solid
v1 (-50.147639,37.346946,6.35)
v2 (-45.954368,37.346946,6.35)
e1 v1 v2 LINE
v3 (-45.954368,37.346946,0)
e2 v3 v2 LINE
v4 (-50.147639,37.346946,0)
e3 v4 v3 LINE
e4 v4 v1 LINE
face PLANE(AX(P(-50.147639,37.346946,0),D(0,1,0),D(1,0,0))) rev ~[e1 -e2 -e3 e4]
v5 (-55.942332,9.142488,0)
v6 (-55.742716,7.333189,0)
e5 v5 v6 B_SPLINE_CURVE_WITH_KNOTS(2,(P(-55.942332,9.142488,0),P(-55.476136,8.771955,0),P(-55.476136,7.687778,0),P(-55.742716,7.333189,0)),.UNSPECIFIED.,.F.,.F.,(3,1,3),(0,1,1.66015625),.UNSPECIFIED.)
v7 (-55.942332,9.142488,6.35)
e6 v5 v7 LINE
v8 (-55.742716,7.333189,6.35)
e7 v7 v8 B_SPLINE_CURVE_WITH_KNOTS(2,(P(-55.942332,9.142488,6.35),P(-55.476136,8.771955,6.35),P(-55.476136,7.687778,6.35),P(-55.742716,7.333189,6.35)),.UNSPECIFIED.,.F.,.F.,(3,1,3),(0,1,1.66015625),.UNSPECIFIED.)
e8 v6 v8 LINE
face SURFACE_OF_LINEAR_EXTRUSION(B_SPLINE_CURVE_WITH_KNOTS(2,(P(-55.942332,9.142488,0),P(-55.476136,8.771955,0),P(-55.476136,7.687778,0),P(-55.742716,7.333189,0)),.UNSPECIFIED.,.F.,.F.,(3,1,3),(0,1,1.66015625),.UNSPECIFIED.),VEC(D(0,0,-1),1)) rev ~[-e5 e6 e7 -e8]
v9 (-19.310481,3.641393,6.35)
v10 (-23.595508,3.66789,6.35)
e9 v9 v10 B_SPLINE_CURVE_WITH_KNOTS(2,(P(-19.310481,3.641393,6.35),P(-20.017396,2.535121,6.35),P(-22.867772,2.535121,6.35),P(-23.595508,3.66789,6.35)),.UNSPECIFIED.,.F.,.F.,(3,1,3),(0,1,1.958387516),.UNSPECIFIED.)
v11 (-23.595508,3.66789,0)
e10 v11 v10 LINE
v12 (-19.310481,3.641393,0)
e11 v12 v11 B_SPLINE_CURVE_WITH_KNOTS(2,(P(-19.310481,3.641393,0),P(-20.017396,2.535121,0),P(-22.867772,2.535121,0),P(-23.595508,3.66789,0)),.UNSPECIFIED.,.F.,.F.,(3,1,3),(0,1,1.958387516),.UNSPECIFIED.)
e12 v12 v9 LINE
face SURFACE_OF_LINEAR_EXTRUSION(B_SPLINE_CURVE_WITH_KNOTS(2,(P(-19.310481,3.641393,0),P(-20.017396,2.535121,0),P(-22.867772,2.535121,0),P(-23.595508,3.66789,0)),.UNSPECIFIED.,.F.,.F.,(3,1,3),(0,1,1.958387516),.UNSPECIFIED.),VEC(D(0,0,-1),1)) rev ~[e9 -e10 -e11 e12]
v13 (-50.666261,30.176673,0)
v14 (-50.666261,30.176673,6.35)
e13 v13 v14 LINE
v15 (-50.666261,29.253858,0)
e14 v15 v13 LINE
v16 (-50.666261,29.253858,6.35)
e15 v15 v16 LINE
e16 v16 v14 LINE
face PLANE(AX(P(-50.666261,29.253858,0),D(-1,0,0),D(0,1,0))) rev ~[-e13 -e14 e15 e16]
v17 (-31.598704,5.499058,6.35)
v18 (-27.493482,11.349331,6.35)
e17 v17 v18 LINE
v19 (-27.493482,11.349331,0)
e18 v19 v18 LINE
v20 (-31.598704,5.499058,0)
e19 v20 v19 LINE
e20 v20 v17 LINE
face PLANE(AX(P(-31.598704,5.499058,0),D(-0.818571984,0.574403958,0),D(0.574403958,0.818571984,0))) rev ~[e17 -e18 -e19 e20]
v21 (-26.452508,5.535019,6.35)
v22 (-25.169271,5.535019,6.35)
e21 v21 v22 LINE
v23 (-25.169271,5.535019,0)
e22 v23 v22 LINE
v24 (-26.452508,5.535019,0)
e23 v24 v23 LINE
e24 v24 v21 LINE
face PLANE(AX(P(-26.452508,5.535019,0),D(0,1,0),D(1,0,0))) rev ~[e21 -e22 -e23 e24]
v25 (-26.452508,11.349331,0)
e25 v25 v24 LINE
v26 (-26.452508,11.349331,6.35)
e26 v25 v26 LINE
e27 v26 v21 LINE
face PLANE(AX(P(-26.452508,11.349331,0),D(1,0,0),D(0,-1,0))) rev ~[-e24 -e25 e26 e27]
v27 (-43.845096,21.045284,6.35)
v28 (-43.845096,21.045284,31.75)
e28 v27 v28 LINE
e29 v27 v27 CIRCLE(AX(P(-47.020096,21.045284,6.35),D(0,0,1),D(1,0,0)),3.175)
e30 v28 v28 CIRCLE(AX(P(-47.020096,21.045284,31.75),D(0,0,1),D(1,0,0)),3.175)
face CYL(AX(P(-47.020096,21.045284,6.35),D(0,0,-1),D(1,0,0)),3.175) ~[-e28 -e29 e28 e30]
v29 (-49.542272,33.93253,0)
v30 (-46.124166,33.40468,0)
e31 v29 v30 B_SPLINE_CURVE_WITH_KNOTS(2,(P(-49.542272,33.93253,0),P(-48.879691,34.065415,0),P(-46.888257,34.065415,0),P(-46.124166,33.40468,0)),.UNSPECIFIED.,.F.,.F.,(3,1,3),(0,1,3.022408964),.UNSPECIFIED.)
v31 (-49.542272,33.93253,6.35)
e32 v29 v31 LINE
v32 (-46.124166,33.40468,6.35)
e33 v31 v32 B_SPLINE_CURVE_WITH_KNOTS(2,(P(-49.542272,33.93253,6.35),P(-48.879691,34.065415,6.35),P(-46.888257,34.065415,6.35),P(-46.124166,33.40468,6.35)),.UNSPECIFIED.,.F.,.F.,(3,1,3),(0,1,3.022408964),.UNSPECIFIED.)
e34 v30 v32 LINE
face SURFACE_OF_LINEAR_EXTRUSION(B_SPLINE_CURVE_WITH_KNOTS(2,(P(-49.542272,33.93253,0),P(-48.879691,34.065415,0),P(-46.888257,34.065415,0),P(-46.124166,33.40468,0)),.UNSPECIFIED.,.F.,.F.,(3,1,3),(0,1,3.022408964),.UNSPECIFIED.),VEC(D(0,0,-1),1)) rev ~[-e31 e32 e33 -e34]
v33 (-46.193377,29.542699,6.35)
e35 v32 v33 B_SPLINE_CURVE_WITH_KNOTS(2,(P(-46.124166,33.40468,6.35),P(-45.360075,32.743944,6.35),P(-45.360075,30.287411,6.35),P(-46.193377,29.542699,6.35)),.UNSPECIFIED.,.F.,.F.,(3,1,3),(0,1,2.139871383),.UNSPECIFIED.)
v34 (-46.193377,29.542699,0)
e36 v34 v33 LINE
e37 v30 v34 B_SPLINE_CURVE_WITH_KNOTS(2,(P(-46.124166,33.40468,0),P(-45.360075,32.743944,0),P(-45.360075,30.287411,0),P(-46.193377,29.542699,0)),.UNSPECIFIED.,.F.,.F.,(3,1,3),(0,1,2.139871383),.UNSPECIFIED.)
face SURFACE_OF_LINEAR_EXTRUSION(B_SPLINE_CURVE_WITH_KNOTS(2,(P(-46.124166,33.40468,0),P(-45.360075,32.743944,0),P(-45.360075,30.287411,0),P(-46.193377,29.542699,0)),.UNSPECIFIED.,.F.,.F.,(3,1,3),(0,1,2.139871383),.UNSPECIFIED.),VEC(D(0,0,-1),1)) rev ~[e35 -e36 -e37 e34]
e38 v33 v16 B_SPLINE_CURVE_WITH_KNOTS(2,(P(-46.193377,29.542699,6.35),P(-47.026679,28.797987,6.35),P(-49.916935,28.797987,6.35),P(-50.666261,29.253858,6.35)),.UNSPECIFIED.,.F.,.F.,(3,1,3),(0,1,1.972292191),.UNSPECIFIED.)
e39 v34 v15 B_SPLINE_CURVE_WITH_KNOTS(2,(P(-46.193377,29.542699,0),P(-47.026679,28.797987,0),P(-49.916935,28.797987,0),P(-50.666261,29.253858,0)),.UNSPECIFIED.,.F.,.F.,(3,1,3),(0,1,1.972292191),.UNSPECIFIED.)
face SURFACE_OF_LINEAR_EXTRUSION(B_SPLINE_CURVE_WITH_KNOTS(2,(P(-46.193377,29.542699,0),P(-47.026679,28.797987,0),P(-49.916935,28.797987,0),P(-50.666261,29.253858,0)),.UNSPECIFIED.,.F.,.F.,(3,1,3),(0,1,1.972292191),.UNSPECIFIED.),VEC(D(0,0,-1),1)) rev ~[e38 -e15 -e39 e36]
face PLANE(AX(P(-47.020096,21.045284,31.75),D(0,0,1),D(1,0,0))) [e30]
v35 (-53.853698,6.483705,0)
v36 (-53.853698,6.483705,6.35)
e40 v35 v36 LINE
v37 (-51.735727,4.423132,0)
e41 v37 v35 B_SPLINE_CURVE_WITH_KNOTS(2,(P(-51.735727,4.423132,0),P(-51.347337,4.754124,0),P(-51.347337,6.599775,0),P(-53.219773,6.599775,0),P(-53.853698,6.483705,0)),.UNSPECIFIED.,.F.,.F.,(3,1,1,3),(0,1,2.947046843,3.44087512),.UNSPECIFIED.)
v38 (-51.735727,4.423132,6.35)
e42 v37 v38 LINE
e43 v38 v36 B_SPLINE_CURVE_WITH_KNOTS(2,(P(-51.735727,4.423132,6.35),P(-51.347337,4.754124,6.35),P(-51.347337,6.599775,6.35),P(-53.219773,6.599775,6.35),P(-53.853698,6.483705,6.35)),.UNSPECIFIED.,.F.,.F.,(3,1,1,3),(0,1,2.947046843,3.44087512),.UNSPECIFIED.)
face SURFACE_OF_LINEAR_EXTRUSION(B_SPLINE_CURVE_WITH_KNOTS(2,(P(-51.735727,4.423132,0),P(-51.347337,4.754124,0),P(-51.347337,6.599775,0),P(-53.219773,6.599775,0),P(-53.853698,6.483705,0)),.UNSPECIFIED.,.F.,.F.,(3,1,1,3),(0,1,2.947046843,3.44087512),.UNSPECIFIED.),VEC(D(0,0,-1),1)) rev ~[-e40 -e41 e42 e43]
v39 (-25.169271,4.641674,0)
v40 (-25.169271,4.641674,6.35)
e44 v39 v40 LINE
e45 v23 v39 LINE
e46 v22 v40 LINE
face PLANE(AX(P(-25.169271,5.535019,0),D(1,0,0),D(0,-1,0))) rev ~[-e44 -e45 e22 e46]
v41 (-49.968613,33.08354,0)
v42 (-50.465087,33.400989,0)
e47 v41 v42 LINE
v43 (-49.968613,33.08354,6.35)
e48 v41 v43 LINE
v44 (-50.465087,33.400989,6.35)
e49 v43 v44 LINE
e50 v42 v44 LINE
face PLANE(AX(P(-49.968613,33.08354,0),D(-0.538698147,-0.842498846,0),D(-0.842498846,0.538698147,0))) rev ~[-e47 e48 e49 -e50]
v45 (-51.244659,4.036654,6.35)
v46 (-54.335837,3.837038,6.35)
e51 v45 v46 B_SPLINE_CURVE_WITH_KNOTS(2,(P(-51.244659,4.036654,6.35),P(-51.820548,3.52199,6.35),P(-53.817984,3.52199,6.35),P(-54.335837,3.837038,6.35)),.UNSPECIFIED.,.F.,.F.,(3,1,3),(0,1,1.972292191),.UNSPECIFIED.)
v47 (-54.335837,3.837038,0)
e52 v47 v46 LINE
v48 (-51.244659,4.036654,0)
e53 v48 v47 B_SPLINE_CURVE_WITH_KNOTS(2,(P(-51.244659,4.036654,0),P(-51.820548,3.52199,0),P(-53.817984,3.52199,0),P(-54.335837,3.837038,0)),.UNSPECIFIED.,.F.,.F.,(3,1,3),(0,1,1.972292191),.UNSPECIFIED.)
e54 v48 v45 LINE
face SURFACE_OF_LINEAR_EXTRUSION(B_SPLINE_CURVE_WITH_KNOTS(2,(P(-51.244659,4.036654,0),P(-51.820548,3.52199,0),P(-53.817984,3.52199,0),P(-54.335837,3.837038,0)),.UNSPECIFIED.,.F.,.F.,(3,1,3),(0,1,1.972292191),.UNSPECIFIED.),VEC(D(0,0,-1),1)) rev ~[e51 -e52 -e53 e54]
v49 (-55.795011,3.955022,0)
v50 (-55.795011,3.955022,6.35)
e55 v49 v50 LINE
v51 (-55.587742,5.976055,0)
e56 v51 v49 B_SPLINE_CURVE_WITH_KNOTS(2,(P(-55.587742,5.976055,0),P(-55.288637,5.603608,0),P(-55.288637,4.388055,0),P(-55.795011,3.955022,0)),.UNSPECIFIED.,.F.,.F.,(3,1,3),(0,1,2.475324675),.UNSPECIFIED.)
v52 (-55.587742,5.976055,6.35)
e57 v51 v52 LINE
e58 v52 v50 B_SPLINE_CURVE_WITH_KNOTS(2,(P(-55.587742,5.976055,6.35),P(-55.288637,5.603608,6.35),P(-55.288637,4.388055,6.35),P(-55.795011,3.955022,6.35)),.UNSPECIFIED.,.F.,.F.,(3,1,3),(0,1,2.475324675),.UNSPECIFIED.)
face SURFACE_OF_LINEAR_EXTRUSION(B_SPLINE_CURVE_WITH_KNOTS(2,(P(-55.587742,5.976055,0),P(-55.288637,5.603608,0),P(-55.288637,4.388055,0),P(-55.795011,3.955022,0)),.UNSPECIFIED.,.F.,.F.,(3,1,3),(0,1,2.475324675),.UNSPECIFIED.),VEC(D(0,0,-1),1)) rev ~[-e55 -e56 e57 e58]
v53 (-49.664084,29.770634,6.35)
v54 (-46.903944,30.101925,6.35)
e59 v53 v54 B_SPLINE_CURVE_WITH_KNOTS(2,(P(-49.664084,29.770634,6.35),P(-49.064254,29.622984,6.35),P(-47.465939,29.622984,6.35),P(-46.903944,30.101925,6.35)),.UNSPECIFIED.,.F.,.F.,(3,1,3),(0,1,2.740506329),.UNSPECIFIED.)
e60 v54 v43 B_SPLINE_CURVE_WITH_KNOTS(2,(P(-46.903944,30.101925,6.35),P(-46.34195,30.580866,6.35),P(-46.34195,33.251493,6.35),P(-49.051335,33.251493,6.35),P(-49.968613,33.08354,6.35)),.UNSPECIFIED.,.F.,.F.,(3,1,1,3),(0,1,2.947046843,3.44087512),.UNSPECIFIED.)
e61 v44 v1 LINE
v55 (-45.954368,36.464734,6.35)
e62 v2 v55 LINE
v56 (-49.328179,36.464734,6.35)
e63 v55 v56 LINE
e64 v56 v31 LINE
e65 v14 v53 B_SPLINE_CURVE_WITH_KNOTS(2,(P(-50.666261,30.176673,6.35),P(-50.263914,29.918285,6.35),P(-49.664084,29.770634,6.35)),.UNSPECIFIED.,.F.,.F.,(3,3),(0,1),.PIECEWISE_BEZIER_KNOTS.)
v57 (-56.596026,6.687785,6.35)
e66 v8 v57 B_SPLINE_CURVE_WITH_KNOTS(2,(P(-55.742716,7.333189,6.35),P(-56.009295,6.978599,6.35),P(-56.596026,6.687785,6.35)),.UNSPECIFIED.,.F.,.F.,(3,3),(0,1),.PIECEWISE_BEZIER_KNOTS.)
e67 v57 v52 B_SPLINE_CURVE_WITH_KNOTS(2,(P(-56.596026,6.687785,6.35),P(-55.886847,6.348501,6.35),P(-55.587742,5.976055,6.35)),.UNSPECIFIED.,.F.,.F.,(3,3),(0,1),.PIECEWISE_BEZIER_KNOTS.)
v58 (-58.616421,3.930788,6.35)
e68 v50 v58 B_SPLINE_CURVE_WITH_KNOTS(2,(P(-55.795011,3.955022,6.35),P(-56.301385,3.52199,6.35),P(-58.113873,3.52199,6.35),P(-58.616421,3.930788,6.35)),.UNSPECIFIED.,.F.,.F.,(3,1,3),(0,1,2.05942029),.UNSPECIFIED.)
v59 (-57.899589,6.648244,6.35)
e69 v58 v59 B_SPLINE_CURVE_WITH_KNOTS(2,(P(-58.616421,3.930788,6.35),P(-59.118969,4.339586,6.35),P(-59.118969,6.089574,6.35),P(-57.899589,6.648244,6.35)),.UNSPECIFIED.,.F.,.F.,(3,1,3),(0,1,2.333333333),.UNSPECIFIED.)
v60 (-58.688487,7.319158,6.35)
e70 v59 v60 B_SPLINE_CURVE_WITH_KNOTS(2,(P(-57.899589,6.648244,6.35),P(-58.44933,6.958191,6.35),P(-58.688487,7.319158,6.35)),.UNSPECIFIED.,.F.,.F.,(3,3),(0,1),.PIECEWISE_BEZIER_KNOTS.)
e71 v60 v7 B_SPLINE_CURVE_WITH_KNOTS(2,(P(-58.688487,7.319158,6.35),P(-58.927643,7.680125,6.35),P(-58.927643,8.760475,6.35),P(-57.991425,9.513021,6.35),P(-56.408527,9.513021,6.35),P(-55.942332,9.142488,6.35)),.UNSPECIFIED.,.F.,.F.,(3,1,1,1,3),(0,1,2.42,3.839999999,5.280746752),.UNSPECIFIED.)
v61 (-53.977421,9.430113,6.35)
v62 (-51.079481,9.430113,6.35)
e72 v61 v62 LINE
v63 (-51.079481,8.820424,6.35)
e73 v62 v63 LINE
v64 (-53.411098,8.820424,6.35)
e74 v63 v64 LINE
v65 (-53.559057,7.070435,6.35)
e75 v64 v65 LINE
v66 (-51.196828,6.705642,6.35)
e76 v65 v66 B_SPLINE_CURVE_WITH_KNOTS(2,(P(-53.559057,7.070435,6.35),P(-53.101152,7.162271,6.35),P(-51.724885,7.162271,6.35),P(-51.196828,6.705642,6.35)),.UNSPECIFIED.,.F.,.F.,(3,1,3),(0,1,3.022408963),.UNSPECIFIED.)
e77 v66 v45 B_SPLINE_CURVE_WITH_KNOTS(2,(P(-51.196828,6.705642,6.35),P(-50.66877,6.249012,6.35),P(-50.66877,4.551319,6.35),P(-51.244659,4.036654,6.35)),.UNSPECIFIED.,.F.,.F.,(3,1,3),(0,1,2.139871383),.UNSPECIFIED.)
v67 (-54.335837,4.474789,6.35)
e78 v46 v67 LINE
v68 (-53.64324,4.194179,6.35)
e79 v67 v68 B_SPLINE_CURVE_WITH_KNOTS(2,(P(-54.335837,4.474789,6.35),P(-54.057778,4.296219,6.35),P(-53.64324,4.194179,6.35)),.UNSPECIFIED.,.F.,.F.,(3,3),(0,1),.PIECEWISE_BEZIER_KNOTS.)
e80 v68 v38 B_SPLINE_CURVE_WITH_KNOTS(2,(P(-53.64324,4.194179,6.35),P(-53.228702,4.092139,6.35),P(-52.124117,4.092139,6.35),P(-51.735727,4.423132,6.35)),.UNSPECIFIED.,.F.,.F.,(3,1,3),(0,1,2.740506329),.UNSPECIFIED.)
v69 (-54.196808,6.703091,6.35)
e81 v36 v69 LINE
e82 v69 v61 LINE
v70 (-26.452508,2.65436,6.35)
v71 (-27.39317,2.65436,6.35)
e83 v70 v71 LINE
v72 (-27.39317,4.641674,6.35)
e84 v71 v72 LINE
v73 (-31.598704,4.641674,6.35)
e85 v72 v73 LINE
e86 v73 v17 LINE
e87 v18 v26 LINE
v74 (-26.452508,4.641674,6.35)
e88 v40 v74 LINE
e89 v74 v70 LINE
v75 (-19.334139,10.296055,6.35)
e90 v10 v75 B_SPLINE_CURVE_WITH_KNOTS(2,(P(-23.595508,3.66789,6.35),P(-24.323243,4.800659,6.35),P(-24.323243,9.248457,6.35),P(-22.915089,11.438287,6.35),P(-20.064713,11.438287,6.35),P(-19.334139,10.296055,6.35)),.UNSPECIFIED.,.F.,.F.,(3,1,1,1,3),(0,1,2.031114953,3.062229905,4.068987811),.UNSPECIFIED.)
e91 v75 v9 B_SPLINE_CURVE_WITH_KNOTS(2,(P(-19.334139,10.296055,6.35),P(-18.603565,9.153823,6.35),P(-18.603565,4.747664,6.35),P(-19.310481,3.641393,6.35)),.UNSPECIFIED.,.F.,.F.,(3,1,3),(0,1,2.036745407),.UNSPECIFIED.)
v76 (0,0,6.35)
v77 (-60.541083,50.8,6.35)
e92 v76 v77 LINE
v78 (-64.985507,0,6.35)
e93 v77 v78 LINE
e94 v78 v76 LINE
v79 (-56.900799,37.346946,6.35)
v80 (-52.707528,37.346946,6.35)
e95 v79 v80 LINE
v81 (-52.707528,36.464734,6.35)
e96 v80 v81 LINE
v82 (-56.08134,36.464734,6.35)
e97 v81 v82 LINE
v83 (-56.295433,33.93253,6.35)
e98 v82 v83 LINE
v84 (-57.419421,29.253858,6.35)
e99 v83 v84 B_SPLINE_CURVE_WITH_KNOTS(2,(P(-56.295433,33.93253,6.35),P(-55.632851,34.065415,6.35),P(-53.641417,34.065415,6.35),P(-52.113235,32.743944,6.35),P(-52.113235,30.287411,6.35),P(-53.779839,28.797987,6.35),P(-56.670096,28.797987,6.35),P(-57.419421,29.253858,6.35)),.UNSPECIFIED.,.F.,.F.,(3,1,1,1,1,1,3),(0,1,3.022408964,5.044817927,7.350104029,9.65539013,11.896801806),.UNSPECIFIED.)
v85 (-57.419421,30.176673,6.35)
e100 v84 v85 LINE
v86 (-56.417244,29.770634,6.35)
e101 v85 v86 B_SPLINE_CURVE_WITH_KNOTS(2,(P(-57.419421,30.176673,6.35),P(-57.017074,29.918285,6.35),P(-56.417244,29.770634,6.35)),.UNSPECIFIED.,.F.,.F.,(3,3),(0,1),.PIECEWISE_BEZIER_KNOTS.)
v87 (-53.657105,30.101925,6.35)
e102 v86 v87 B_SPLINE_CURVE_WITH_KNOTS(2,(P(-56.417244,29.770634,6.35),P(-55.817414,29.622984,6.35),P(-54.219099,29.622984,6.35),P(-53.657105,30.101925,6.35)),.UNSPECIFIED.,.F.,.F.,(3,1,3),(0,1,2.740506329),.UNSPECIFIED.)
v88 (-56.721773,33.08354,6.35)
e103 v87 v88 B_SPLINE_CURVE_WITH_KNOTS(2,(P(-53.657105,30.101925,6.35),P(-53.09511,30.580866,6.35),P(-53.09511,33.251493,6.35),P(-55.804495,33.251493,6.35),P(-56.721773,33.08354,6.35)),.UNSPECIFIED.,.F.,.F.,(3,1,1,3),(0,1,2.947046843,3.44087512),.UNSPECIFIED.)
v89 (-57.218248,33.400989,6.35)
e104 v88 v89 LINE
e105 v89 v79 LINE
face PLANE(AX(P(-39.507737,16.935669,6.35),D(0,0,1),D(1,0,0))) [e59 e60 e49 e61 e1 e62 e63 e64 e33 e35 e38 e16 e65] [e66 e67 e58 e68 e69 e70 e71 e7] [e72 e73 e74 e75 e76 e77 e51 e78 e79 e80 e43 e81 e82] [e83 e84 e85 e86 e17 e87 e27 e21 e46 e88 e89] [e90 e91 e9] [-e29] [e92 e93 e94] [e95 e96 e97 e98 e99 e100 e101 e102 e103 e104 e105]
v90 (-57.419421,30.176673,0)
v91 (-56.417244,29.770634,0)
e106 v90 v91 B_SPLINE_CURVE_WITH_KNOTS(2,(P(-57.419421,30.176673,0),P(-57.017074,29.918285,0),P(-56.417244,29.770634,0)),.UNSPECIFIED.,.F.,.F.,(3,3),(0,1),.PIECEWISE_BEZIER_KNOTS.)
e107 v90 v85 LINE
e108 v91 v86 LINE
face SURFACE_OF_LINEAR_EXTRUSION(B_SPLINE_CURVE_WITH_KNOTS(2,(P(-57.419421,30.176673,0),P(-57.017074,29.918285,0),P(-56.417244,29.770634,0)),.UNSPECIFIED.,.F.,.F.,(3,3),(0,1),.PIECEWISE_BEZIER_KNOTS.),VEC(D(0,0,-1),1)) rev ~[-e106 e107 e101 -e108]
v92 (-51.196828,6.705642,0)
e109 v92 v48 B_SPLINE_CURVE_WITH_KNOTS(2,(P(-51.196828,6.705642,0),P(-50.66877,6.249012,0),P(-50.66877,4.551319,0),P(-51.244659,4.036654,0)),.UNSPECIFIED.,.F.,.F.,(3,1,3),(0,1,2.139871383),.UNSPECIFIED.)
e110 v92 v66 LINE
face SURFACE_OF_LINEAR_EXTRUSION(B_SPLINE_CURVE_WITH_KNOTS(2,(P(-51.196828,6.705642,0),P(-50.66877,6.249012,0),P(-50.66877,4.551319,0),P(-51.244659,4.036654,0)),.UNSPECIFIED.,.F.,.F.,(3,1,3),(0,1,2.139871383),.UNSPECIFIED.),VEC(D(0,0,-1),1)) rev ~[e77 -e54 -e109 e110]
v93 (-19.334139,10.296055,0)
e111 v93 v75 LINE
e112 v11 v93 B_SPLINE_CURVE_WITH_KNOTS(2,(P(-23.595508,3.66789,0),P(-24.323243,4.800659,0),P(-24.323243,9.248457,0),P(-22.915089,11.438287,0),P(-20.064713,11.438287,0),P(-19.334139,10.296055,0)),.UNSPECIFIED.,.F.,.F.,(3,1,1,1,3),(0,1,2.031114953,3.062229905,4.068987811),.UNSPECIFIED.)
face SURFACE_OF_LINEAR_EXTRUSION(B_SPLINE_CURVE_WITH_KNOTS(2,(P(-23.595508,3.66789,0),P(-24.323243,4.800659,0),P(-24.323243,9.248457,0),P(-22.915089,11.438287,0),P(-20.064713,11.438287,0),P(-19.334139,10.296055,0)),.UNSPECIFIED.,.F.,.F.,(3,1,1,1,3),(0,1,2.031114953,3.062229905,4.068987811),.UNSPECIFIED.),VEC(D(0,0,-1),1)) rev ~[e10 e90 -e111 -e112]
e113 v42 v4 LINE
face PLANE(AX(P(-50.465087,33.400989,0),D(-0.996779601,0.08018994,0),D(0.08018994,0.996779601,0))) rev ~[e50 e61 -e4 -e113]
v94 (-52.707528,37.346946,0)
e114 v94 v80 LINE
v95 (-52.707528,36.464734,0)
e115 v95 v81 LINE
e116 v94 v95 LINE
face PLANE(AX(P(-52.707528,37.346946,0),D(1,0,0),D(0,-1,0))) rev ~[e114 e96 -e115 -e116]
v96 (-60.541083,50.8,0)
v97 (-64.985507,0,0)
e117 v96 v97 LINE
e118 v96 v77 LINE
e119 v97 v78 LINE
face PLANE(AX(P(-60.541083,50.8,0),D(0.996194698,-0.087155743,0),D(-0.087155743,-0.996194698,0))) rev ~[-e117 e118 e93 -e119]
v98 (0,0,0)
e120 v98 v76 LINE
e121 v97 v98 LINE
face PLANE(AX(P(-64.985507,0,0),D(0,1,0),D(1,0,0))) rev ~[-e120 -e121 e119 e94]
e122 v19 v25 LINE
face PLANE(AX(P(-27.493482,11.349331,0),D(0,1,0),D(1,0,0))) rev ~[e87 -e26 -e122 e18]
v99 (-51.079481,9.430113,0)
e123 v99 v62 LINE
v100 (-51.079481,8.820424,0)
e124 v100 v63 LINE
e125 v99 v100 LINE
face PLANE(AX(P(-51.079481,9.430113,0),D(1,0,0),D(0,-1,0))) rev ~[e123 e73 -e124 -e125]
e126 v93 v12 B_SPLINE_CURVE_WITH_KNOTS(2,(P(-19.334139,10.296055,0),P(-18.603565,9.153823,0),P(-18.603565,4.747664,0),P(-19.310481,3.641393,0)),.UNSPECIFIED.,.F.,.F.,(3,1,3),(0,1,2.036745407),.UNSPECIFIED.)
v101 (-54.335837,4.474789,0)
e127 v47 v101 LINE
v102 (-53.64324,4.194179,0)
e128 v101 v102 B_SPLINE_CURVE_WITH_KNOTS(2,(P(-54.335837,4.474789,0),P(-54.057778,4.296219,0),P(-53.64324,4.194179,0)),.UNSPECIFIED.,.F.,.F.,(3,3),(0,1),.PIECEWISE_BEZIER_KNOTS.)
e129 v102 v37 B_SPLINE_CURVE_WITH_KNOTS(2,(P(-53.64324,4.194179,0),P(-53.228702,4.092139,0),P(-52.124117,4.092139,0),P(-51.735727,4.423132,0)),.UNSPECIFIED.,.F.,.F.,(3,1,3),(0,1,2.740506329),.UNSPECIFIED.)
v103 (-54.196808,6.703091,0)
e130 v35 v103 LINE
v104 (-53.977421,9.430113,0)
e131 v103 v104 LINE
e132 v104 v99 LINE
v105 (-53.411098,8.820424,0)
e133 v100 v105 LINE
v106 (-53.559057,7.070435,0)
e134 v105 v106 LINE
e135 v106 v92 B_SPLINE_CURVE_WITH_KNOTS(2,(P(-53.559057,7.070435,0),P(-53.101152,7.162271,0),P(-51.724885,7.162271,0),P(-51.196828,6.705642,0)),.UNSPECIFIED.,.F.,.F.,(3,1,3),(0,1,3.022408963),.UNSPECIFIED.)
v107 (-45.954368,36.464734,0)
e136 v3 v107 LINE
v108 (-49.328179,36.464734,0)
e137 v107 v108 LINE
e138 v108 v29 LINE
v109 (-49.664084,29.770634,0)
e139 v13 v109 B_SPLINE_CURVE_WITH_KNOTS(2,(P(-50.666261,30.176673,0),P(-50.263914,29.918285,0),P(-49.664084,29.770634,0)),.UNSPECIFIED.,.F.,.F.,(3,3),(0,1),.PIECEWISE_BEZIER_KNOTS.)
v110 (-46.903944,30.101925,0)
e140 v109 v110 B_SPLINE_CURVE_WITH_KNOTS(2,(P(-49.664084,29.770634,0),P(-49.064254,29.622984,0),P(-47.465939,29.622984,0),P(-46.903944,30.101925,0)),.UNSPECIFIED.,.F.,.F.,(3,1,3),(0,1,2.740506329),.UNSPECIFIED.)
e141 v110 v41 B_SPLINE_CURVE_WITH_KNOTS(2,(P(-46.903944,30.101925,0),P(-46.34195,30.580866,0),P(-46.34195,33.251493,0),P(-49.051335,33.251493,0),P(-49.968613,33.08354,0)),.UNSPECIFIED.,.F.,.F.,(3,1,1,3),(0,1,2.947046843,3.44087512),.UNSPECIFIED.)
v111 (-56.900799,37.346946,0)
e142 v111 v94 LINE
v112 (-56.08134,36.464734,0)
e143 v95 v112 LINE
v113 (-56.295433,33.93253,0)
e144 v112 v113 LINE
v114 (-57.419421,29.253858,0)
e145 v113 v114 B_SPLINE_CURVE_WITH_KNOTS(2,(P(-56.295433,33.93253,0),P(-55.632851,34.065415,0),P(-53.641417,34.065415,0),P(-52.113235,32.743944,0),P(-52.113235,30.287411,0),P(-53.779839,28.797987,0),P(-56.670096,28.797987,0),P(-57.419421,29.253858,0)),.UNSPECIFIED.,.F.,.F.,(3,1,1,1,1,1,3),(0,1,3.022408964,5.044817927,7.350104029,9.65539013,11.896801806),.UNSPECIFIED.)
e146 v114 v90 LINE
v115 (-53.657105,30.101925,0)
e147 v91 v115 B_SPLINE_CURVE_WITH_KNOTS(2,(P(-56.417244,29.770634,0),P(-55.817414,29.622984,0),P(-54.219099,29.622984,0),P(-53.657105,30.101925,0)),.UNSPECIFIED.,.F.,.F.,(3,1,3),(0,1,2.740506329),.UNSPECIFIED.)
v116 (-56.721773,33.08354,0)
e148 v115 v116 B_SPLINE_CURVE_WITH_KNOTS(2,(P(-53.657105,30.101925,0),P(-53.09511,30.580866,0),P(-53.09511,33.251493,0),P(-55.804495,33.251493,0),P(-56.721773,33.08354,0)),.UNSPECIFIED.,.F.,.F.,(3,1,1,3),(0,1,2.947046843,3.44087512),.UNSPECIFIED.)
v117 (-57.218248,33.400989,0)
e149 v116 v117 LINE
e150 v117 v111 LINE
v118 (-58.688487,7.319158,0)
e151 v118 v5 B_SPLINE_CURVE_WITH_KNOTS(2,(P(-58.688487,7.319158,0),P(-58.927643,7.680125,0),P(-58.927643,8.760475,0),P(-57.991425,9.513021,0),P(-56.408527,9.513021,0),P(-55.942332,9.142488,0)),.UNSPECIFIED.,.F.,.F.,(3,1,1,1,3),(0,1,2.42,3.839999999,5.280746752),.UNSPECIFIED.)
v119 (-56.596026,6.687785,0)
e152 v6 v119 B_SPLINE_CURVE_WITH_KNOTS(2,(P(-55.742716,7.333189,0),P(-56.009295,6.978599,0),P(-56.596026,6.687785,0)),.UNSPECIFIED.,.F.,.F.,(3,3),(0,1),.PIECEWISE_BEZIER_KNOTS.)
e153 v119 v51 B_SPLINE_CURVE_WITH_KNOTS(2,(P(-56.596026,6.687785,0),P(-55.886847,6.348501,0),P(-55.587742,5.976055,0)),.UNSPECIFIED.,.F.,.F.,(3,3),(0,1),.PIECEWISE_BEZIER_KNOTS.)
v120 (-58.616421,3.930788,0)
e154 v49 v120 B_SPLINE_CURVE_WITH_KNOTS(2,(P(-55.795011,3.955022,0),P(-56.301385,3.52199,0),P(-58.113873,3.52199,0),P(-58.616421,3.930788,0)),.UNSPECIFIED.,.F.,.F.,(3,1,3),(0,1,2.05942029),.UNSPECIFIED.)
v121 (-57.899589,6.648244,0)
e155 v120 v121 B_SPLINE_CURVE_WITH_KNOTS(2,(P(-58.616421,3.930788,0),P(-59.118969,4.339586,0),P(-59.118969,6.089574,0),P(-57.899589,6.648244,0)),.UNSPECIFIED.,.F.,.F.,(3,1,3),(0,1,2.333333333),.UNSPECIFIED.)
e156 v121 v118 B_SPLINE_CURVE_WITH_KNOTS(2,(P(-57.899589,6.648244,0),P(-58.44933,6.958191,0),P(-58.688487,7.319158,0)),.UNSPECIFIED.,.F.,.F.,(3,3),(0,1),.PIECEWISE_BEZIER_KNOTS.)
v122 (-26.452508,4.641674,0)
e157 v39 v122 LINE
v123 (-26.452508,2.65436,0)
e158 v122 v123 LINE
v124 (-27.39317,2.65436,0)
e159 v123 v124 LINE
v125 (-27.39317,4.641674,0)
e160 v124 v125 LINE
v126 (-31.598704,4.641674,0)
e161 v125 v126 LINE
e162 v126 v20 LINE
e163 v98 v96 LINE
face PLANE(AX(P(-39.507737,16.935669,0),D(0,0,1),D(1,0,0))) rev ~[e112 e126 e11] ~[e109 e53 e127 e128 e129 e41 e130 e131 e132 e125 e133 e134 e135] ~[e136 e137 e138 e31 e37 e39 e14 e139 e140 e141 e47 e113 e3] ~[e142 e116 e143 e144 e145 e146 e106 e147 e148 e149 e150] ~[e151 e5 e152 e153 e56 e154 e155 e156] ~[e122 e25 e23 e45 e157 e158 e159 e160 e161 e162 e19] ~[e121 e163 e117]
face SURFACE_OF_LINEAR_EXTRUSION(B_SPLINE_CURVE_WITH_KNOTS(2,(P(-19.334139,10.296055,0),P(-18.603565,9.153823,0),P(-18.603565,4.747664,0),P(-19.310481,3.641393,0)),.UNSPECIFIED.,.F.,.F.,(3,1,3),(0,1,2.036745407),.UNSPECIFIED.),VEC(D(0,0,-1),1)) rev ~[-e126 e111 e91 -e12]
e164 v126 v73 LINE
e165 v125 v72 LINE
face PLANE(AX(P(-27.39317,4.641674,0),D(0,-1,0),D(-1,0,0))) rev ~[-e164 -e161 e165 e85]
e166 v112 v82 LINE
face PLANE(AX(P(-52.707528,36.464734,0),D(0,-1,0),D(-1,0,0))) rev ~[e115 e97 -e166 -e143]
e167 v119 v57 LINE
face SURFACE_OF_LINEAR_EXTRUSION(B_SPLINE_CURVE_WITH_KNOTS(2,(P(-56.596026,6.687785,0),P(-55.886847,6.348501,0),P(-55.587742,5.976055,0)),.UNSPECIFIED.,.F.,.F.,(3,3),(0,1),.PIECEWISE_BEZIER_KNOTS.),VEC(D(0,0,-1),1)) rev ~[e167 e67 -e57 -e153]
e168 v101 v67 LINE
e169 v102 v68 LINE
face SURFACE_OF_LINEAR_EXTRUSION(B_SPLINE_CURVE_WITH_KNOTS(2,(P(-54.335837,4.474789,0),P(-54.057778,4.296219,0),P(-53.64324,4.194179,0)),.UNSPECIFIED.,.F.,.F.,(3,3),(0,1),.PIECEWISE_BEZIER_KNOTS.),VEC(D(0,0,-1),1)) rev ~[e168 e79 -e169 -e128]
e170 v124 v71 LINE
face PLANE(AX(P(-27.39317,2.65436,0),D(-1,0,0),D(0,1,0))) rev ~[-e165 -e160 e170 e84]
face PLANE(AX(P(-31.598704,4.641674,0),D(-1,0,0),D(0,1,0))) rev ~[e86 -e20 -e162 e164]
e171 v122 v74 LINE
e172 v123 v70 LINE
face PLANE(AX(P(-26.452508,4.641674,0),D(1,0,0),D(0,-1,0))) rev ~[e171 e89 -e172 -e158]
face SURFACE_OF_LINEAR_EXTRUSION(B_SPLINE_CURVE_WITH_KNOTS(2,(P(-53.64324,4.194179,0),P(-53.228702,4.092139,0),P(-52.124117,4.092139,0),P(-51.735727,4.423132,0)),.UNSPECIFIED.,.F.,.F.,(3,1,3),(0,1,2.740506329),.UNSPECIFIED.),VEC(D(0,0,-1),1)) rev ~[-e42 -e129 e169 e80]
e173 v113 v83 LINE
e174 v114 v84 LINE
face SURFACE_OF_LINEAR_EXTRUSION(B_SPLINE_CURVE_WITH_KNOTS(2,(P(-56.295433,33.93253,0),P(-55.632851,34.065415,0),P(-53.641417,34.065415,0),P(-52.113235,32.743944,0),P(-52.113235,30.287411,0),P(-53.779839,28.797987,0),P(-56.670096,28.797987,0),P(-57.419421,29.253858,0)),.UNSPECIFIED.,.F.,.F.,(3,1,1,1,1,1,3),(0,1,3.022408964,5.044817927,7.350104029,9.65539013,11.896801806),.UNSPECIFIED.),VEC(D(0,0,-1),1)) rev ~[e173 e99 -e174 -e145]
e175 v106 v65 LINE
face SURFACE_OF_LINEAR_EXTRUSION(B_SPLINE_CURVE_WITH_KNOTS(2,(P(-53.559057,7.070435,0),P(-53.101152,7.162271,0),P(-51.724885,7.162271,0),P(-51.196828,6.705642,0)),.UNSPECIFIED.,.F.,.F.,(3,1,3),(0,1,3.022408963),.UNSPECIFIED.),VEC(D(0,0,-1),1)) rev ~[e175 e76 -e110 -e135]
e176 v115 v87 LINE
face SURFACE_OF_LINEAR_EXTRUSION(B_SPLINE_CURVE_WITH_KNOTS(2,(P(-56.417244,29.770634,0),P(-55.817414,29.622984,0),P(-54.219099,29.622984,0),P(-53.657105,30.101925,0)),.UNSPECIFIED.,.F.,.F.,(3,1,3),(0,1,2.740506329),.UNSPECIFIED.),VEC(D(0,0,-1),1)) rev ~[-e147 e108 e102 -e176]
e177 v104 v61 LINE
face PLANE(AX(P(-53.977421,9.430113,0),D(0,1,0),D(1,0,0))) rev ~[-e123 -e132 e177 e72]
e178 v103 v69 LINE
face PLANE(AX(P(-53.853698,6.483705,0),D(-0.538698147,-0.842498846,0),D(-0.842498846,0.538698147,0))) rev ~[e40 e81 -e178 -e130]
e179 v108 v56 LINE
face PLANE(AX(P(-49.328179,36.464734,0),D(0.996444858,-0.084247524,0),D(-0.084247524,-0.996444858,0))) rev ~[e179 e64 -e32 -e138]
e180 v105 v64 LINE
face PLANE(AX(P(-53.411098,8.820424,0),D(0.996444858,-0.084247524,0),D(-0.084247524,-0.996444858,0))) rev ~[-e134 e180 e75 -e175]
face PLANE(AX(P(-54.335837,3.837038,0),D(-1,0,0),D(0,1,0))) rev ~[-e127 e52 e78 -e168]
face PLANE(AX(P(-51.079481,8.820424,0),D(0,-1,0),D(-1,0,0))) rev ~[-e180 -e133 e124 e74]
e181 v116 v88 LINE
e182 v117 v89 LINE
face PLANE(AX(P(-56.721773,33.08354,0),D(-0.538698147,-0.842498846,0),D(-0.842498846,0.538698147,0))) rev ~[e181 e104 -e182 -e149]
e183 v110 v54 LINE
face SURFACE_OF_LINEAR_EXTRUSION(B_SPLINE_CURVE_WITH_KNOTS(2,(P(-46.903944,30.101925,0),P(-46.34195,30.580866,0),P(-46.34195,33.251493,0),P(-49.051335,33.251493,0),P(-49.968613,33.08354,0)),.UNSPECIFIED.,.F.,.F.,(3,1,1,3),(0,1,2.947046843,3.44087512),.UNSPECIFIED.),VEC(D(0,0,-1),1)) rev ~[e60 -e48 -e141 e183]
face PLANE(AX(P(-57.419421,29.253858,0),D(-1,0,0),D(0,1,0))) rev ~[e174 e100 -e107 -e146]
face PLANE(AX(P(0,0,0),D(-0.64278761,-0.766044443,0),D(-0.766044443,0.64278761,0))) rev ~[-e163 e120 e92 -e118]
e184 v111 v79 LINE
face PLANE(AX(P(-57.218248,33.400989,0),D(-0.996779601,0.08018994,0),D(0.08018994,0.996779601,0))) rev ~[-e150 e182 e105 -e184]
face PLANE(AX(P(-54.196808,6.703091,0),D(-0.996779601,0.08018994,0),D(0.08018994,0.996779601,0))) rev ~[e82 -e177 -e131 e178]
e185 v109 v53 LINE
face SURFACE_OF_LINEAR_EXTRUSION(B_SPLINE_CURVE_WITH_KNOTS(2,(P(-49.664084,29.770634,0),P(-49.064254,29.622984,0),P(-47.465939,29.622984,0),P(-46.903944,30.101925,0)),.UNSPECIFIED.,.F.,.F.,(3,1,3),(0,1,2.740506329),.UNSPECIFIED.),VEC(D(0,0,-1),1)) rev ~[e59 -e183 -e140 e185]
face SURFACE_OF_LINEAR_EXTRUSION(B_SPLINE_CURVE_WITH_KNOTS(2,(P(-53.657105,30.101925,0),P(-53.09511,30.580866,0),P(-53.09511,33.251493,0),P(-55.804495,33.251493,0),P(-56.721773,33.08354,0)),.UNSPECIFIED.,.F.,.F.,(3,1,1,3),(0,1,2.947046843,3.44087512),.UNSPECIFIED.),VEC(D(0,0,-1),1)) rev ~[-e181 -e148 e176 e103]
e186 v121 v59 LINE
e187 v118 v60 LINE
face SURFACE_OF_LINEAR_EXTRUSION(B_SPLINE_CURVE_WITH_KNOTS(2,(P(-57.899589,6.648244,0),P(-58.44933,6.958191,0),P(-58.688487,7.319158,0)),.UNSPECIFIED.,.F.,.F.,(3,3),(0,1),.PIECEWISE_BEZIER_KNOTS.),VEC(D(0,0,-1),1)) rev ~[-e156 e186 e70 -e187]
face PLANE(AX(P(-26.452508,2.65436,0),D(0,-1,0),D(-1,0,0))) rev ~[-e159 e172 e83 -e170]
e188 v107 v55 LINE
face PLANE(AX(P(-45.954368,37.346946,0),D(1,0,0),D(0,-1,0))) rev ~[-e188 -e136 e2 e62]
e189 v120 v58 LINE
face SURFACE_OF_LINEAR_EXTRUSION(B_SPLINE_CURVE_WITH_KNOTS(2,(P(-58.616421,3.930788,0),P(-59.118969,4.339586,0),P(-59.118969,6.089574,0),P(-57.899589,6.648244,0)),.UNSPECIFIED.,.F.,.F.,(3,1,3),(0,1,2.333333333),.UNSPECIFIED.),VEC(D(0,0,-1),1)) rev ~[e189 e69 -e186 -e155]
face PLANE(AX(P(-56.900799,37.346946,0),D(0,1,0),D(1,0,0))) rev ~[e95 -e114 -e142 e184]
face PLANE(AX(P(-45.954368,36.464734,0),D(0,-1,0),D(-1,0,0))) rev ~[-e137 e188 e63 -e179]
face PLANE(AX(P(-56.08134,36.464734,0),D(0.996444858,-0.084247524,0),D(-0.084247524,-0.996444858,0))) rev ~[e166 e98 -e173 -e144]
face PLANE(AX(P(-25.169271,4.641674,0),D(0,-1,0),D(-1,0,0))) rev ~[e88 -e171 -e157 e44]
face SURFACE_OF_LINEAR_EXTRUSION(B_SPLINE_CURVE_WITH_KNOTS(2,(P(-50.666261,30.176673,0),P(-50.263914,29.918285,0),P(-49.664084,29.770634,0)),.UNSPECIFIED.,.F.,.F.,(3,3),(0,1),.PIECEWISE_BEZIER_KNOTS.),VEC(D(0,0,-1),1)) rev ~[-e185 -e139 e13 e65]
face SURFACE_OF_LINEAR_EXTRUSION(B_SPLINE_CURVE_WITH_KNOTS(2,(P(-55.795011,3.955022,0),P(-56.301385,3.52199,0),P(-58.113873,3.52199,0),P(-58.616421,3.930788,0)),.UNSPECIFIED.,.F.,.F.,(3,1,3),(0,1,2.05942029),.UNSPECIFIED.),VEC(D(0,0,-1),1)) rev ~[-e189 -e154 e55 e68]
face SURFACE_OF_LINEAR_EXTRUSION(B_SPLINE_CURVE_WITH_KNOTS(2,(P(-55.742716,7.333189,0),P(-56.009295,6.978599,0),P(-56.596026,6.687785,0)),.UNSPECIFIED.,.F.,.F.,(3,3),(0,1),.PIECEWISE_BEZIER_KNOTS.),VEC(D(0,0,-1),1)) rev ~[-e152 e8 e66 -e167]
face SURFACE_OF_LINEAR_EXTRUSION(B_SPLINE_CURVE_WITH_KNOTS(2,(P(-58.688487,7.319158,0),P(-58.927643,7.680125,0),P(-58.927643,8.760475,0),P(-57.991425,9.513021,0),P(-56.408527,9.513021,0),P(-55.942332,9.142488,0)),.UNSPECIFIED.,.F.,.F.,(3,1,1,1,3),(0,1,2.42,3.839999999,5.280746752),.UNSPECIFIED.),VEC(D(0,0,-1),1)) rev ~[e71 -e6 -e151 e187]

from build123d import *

# Parameters (mm, degrees)
F1_DEPTH = 6.35
F2_R     = 3.175
F3_DEPTH = 25.4


with BuildPart() as f1:
    # F0 (on Top) → F1 (new body)
    with BuildSketch(Plane.XY):
        Polygon((0, 0), (-60.5410825038, 50.8), (-64.9855066109, 0), align=None)
        with BuildLine():
            add(Edge.make_bspline(
                [(-58.459534205, 9.1367480254), (-57.9914250831, 9.5130210253), (-57.2057160392, 9.5130210253)],
                knots=[0, 0, 0, 1, 1, 1], degree=2))
            add(Edge.make_bspline(
                [(-57.2057160392, 9.5130210253), (-56.4085274801, 9.5130210253), (-55.9423316107, 9.142487783)],
                knots=[0, 0, 0, 1, 1, 1], degree=2))
            add(Edge.make_bspline(
                [(-55.9423316107, 9.142487783), (-55.4761357414, 8.7719545407), (-55.4761357414, 8.1188976731)],
                knots=[0, 0, 0, 1, 1, 1], degree=2))
            add(Edge.make_bspline(
                [(-55.4761357414, 8.1188976731), (-55.4761357414, 7.6877781003), (-55.7427155955, 7.3331886292)],
                knots=[0, 0, 0, 1, 1, 1], degree=2))
            add(Edge.make_bspline(
                [(-55.7427155955, 7.3331886292), (-56.0092954497, 6.9785991581), (-56.5960262292, 6.6877847718)],
                knots=[0, 0, 0, 1, 1, 1], degree=2))
            add(Edge.make_bspline(
                [(-56.5960262292, 6.6877847718), (-55.886847287, 6.348501321), (-55.5877421397, 5.9760548262)],
                knots=[0, 0, 0, 1, 1, 1], degree=2))
            add(Edge.make_bspline(
                [(-55.5877421397, 5.9760548262), (-55.2886369923, 5.6036083314), (-55.2886369923, 5.1125401789)],
                knots=[0, 0, 0, 1, 1, 1], degree=2))
            add(Edge.make_bspline(
                [(-55.2886369923, 5.1125401789), (-55.2886369923, 4.3880552164), (-55.795011165, 3.9550223911)],
                knots=[0, 0, 0, 1, 1, 1], degree=2))
            add(Edge.make_bspline(
                [(-55.795011165, 3.9550223911), (-56.3013853378, 3.5219895658), (-57.181481507, 3.5219895658)],
                knots=[0, 0, 0, 1, 1, 1], degree=2))
            add(Edge.make_bspline(
                [(-57.181481507, 3.5219895658), (-58.1138732458, 3.5219895658), (-58.6164209134, 3.9307878589)],
                knots=[0, 0, 0, 1, 1, 1], degree=2))
            add(Edge.make_bspline(
                [(-58.6164209134, 3.9307878589), (-59.1189685811, 4.339586152), (-59.1189685811, 5.0895811484)],
                knots=[0, 0, 0, 1, 1, 1], degree=2))
            add(Edge.make_bspline(
                [(-59.1189685811, 5.0895811484), (-59.1189685811, 6.089574477), (-57.8995889611, 6.6482442192)],
                knots=[0, 0, 0, 1, 1, 1], degree=2))
            add(Edge.make_bspline(
                [(-57.8995889611, 6.6482442192), (-58.4493301915, 6.958191131), (-58.6884867592, 7.3191581106)],
                knots=[0, 0, 0, 1, 1, 1], degree=2))
            add(Edge.make_bspline(
                [(-58.6884867592, 7.3191581106), (-58.9276433269, 7.6801250901), (-58.9276433269, 8.1265506833)],
                knots=[0, 0, 0, 1, 1, 1], degree=2))
            add(Edge.make_bspline(
                [(-58.9276433269, 8.1265506833), (-58.9276433269, 8.7604750255), (-58.459534205, 9.1367480254)],
                knots=[0, 0, 0, 1, 1, 1], degree=2))
        make_face(mode=Mode.SUBTRACT)
        with BuildLine():
            add(Edge.make_bspline(
                [(-53.5590566944, 7.0704352801), (-53.1011515861, 7.1622714021), (-52.6457974811, 7.1622714021)],
                knots=[0, 0, 0, 1, 1, 1], degree=2))
            add(Edge.make_bspline(
                [(-52.6457974811, 7.1622714021), (-51.7248852576, 7.1622714021), (-51.196827556, 6.7056417955)],
                knots=[0, 0, 0, 1, 1, 1], degree=2))
            add(Edge.make_bspline(
                [(-51.196827556, 6.7056417955), (-50.6687698545, 6.2490121888), (-50.6687698545, 5.4556501348)],
                knots=[0, 0, 0, 1, 1, 1], degree=2))
            add(Edge.make_bspline(
                [(-50.6687698545, 5.4556501348), (-50.6687698545, 4.5513194333), (-51.2446588696, 4.0366544996)],
                knots=[0, 0, 0, 1, 1, 1], degree=2))
            add(Edge.make_bspline(
                [(-51.2446588696, 4.0366544996), (-51.8205478847, 3.5219895658), (-52.8332962302, 3.5219895658)],
                knots=[0, 0, 0, 1, 1, 1], degree=2))
            add(Edge.make_bspline(
                [(-52.8332962302, 3.5219895658), (-53.8179835384, 3.5219895658), (-54.3358372264, 3.8370384844)],
                knots=[0, 0, 0, 1, 1, 1], degree=2))
            Line((-54.3358372264, 3.8370384844), (-54.3358372264, 4.4747893317))
            add(Edge.make_bspline(
                [(-54.3358372264, 4.4747893317), (-54.057777857, 4.2962190944), (-53.6432398063, 4.1941789588)],
                knots=[0, 0, 0, 1, 1, 1], degree=2))
            add(Edge.make_bspline(
                [(-53.6432398063, 4.1941789588), (-53.2287017555, 4.0921388233), (-52.82564322, 4.0921388233)],
                knots=[0, 0, 0, 1, 1, 1], degree=2))
            add(Edge.make_bspline(
                [(-52.82564322, 4.0921388233), (-52.124117288, 4.0921388233), (-51.735727022, 4.423131513)],
                knots=[0, 0, 0, 1, 1, 1], degree=2))
            add(Edge.make_bspline(
                [(-51.735727022, 4.423131513), (-51.347336756, 4.7541242028), (-51.347336756, 5.3803955348)],
                knots=[0, 0, 0, 1, 1, 1], degree=2))
            add(Edge.make_bspline(
                [(-51.347336756, 5.3803955348), (-51.347336756, 6.5997751548), (-52.8409492404, 6.5997751548)],
                knots=[0, 0, 0, 1, 1, 1], degree=2))
            add(Edge.make_bspline(
                [(-52.8409492404, 6.5997751548), (-53.2197732437, 6.5997751548), (-53.8536975859, 6.4837045006)],
                knots=[0, 0, 0, 1, 1, 1], degree=2))
            Line((-53.8536975859, 6.4837045006), (-54.1968075417, 6.7030907921))
            Line((-54.1968075417, 6.7030907921), (-53.9774212502, 9.4301134151))
            Line((-53.9774212502, 9.4301134151), (-51.0794814001, 9.4301134151))
            Line((-51.0794814001, 9.4301134151), (-51.0794814001, 8.8204236051))
            Line((-51.0794814001, 8.8204236051), (-53.4110984978, 8.8204236051))
            Line((-53.4110984978, 8.8204236051), (-53.5590566944, 7.0704352801))
        make_face(mode=Mode.SUBTRACT)
        Polygon((-25.1692710203, 5.5350187531), (-25.1692710203, 4.6416738651), (-26.4525079569, 4.6416738651), (-26.4525079569, 2.6543600252), (-27.3931698412, 2.6543600252), (-27.3931698412, 4.6416738651), (-31.5987044623, 4.6416738651), (-31.5987044623, 5.499057836), (-27.4934818731, 11.3493312447), (-26.4525079569, 11.3493312447), (-26.4525079569, 5.5350187531), align=None, mode=Mode.SUBTRACT)
        with BuildLine():
            add(Edge.make_bspline(
                [(-19.3341390504, 10.2960549095), (-18.6035646293, 9.1538226216), (-18.6035646293, 6.9904895558)],
                knots=[0, 0, 0, 1, 1, 1], degree=2))
            add(Edge.make_bspline(
                [(-18.6035646293, 6.9904895558), (-18.6035646293, 4.7476639365), (-19.3104805523, 3.6413925657)],
                knots=[0, 0, 0, 1, 1, 1], degree=2))
            add(Edge.make_bspline(
                [(-19.3104805523, 3.6413925657), (-20.0173964754, 2.5351211948), (-21.4728672781, 2.5351211948)],
                knots=[0, 0, 0, 1, 1, 1], degree=2))
            add(Edge.make_bspline(
                [(-21.4728672781, 2.5351211948), (-22.8677723258, 2.5351211948), (-23.5955077271, 3.6678900835)],
                knots=[0, 0, 0, 1, 1, 1], degree=2))
            add(Edge.make_bspline(
                [(-23.5955077271, 3.6678900835), (-24.3232431285, 4.8006589723), (-24.3232431285, 6.9904895558)],
                knots=[0, 0, 0, 1, 1, 1], degree=2))
            add(Edge.make_bspline(
                [(-24.3232431285, 6.9904895558), (-24.3232431285, 9.2484566139), (-23.6191662252, 10.3433719057)],
                knots=[0, 0, 0, 1, 1, 1], degree=2))
            add(Edge.make_bspline(
                [(-23.6191662252, 10.3433719057), (-22.9150893219, 11.4382871975), (-21.4728672781, 11.4382871975)],
                knots=[0, 0, 0, 1, 1, 1], degree=2))
            add(Edge.make_bspline(
                [(-21.4728672781, 11.4382871975), (-20.0647134716, 11.4382871975), (-19.3341390504, 10.2960549095)],
                knots=[0, 0, 0, 1, 1, 1], degree=2))
        make_face(mode=Mode.SUBTRACT)
        with BuildLine():
            add(Edge.make_bspline(
                [(-56.295432625, 33.9325300153), (-55.632851454, 34.0654153755), (-54.973961543, 34.0654153755)],
                knots=[0, 0, 0, 1, 1, 1], degree=2))
            add(Edge.make_bspline(
                [(-54.973961543, 34.0654153755), (-53.641416681, 34.0654153755), (-52.8773258599, 33.4046798345)],
                knots=[0, 0, 0, 1, 1, 1], degree=2))
            add(Edge.make_bspline(
                [(-52.8773258599, 33.4046798345), (-52.1132350388, 32.7439442935), (-52.1132350388, 31.5959624318)],
                knots=[0, 0, 0, 1, 1, 1], degree=2))
            add(Edge.make_bspline(
                [(-52.1132350388, 31.5959624318), (-52.1132350388, 30.2874107598), (-52.946536985, 29.5426990537)],
                knots=[0, 0, 0, 1, 1, 1], degree=2))
            add(Edge.make_bspline(
                [(-52.946536985, 29.5426990537), (-53.7798389312, 28.7979873476), (-55.2452691534, 28.7979873476)],
                knots=[0, 0, 0, 1, 1, 1], degree=2))
            add(Edge.make_bspline(
                [(-55.2452691534, 28.7979873476), (-56.6700955155, 28.7979873476), (-57.4194212967, 29.2538579583)],
                knots=[0, 0, 0, 1, 1, 1], degree=2))
            Line((-57.4194212967, 29.2538579583), (-57.4194212967, 30.1766729597))
            add(Edge.make_bspline(
                [(-57.4194212967, 30.1766729597), (-57.0170739561, 29.9182847593), (-56.4172442052, 29.7706343591)],
                knots=[0, 0, 0, 1, 1, 1], degree=2))
            add(Edge.make_bspline(
                [(-56.4172442052, 29.7706343591), (-55.8174144543, 29.6229839588), (-55.2341953734, 29.6229839588)],
                knots=[0, 0, 0, 1, 1, 1], degree=2))
            add(Edge.make_bspline(
                [(-55.2341953734, 29.6229839588), (-54.2190988719, 29.6229839588), (-53.6571045361, 30.1019249446)],
                knots=[0, 0, 0, 1, 1, 1], degree=2))
            add(Edge.make_bspline(
                [(-53.6571045361, 30.1019249446), (-53.0951102002, 30.5808659303), (-53.0951102002, 31.4870702616)],
                knots=[0, 0, 0, 1, 1, 1], degree=2))
            add(Edge.make_bspline(
                [(-53.0951102002, 31.4870702616), (-53.0951102002, 33.2514925442), (-55.2563429334, 33.2514925442)],
                knots=[0, 0, 0, 1, 1, 1], degree=2))
            add(Edge.make_bspline(
                [(-55.2563429334, 33.2514925442), (-55.8044950443, 33.2514925442), (-56.7217731556, 33.083540214)],
                knots=[0, 0, 0, 1, 1, 1], degree=2))
            Line((-56.7217731556, 33.083540214), (-57.2182476264, 33.4009885745))
            Line((-57.2182476264, 33.4009885745), (-56.9007992659, 37.3469455203))
            Line((-56.9007992659, 37.3469455203), (-52.7075278996, 37.3469455203))
            Line((-52.7075278996, 37.3469455203), (-52.7075278996, 36.464734379))
            Line((-52.7075278996, 36.464734379), (-56.0813395447, 36.464734379))
            Line((-56.0813395447, 36.464734379), (-56.295432625, 33.9325300153))
        make_face(mode=Mode.SUBTRACT)
        with BuildLine():
            add(Edge.make_bspline(
                [(-49.5422724449, 33.9325300153), (-48.8796912739, 34.0654153755), (-48.220801363, 34.0654153755)],
                knots=[0, 0, 0, 1, 1, 1], degree=2))
            add(Edge.make_bspline(
                [(-48.220801363, 34.0654153755), (-46.888256501, 34.0654153755), (-46.1241656798, 33.4046798345)],
                knots=[0, 0, 0, 1, 1, 1], degree=2))
            add(Edge.make_bspline(
                [(-46.1241656798, 33.4046798345), (-45.3600748587, 32.7439442935), (-45.3600748587, 31.5959624318)],
                knots=[0, 0, 0, 1, 1, 1], degree=2))
            add(Edge.make_bspline(
                [(-45.3600748587, 31.5959624318), (-45.3600748587, 30.2874107598), (-46.1933768049, 29.5426990537)],
                knots=[0, 0, 0, 1, 1, 1], degree=2))
            add(Edge.make_bspline(
                [(-46.1933768049, 29.5426990537), (-47.0266787512, 28.7979873476), (-48.4921089734, 28.7979873476)],
                knots=[0, 0, 0, 1, 1, 1], degree=2))
            add(Edge.make_bspline(
                [(-48.4921089734, 28.7979873476), (-49.9169353355, 28.7979873476), (-50.6662611166, 29.2538579583)],
                knots=[0, 0, 0, 1, 1, 1], degree=2))
            Line((-50.6662611166, 29.2538579583), (-50.6662611166, 30.1766729597))
            add(Edge.make_bspline(
                [(-50.6662611166, 30.1766729597), (-50.263913776, 29.9182847593), (-49.6640840251, 29.7706343591)],
                knots=[0, 0, 0, 1, 1, 1], degree=2))
            add(Edge.make_bspline(
                [(-49.6640840251, 29.7706343591), (-49.0642542742, 29.6229839588), (-48.4810351934, 29.6229839588)],
                knots=[0, 0, 0, 1, 1, 1], degree=2))
            add(Edge.make_bspline(
                [(-48.4810351934, 29.6229839588), (-47.4659386918, 29.6229839588), (-46.903944356, 30.1019249446)],
                knots=[0, 0, 0, 1, 1, 1], degree=2))
            add(Edge.make_bspline(
                [(-46.903944356, 30.1019249446), (-46.3419500202, 30.5808659303), (-46.3419500202, 31.4870702616)],
                knots=[0, 0, 0, 1, 1, 1], degree=2))
            add(Edge.make_bspline(
                [(-46.3419500202, 31.4870702616), (-46.3419500202, 33.2514925442), (-48.5031827534, 33.2514925442)],
                knots=[0, 0, 0, 1, 1, 1], degree=2))
            add(Edge.make_bspline(
                [(-48.5031827534, 33.2514925442), (-49.0513348642, 33.2514925442), (-49.9686129756, 33.083540214)],
                knots=[0, 0, 0, 1, 1, 1], degree=2))
            Line((-49.9686129756, 33.083540214), (-50.4650874463, 33.4009885745))
            Line((-50.4650874463, 33.4009885745), (-50.1476390858, 37.3469455203))
            Line((-50.1476390858, 37.3469455203), (-45.9543677196, 37.3469455203))
            Line((-45.9543677196, 37.3469455203), (-45.9543677196, 36.464734379))
            Line((-45.9543677196, 36.464734379), (-49.3281793646, 36.464734379))
            Line((-49.3281793646, 36.464734379), (-49.5422724449, 33.9325300153))
        make_face(mode=Mode.SUBTRACT)
    extrude(amount=F1_DEPTH)

    # F2 (on face) → F3 (join)
    with BuildSketch(Plane.XY.offset(6.35)):
        with Locations((-47.0200963318, 21.0452843457)):
            Circle(F2_R)
    extrude(amount=F3_DEPTH)


solid = f1.part
